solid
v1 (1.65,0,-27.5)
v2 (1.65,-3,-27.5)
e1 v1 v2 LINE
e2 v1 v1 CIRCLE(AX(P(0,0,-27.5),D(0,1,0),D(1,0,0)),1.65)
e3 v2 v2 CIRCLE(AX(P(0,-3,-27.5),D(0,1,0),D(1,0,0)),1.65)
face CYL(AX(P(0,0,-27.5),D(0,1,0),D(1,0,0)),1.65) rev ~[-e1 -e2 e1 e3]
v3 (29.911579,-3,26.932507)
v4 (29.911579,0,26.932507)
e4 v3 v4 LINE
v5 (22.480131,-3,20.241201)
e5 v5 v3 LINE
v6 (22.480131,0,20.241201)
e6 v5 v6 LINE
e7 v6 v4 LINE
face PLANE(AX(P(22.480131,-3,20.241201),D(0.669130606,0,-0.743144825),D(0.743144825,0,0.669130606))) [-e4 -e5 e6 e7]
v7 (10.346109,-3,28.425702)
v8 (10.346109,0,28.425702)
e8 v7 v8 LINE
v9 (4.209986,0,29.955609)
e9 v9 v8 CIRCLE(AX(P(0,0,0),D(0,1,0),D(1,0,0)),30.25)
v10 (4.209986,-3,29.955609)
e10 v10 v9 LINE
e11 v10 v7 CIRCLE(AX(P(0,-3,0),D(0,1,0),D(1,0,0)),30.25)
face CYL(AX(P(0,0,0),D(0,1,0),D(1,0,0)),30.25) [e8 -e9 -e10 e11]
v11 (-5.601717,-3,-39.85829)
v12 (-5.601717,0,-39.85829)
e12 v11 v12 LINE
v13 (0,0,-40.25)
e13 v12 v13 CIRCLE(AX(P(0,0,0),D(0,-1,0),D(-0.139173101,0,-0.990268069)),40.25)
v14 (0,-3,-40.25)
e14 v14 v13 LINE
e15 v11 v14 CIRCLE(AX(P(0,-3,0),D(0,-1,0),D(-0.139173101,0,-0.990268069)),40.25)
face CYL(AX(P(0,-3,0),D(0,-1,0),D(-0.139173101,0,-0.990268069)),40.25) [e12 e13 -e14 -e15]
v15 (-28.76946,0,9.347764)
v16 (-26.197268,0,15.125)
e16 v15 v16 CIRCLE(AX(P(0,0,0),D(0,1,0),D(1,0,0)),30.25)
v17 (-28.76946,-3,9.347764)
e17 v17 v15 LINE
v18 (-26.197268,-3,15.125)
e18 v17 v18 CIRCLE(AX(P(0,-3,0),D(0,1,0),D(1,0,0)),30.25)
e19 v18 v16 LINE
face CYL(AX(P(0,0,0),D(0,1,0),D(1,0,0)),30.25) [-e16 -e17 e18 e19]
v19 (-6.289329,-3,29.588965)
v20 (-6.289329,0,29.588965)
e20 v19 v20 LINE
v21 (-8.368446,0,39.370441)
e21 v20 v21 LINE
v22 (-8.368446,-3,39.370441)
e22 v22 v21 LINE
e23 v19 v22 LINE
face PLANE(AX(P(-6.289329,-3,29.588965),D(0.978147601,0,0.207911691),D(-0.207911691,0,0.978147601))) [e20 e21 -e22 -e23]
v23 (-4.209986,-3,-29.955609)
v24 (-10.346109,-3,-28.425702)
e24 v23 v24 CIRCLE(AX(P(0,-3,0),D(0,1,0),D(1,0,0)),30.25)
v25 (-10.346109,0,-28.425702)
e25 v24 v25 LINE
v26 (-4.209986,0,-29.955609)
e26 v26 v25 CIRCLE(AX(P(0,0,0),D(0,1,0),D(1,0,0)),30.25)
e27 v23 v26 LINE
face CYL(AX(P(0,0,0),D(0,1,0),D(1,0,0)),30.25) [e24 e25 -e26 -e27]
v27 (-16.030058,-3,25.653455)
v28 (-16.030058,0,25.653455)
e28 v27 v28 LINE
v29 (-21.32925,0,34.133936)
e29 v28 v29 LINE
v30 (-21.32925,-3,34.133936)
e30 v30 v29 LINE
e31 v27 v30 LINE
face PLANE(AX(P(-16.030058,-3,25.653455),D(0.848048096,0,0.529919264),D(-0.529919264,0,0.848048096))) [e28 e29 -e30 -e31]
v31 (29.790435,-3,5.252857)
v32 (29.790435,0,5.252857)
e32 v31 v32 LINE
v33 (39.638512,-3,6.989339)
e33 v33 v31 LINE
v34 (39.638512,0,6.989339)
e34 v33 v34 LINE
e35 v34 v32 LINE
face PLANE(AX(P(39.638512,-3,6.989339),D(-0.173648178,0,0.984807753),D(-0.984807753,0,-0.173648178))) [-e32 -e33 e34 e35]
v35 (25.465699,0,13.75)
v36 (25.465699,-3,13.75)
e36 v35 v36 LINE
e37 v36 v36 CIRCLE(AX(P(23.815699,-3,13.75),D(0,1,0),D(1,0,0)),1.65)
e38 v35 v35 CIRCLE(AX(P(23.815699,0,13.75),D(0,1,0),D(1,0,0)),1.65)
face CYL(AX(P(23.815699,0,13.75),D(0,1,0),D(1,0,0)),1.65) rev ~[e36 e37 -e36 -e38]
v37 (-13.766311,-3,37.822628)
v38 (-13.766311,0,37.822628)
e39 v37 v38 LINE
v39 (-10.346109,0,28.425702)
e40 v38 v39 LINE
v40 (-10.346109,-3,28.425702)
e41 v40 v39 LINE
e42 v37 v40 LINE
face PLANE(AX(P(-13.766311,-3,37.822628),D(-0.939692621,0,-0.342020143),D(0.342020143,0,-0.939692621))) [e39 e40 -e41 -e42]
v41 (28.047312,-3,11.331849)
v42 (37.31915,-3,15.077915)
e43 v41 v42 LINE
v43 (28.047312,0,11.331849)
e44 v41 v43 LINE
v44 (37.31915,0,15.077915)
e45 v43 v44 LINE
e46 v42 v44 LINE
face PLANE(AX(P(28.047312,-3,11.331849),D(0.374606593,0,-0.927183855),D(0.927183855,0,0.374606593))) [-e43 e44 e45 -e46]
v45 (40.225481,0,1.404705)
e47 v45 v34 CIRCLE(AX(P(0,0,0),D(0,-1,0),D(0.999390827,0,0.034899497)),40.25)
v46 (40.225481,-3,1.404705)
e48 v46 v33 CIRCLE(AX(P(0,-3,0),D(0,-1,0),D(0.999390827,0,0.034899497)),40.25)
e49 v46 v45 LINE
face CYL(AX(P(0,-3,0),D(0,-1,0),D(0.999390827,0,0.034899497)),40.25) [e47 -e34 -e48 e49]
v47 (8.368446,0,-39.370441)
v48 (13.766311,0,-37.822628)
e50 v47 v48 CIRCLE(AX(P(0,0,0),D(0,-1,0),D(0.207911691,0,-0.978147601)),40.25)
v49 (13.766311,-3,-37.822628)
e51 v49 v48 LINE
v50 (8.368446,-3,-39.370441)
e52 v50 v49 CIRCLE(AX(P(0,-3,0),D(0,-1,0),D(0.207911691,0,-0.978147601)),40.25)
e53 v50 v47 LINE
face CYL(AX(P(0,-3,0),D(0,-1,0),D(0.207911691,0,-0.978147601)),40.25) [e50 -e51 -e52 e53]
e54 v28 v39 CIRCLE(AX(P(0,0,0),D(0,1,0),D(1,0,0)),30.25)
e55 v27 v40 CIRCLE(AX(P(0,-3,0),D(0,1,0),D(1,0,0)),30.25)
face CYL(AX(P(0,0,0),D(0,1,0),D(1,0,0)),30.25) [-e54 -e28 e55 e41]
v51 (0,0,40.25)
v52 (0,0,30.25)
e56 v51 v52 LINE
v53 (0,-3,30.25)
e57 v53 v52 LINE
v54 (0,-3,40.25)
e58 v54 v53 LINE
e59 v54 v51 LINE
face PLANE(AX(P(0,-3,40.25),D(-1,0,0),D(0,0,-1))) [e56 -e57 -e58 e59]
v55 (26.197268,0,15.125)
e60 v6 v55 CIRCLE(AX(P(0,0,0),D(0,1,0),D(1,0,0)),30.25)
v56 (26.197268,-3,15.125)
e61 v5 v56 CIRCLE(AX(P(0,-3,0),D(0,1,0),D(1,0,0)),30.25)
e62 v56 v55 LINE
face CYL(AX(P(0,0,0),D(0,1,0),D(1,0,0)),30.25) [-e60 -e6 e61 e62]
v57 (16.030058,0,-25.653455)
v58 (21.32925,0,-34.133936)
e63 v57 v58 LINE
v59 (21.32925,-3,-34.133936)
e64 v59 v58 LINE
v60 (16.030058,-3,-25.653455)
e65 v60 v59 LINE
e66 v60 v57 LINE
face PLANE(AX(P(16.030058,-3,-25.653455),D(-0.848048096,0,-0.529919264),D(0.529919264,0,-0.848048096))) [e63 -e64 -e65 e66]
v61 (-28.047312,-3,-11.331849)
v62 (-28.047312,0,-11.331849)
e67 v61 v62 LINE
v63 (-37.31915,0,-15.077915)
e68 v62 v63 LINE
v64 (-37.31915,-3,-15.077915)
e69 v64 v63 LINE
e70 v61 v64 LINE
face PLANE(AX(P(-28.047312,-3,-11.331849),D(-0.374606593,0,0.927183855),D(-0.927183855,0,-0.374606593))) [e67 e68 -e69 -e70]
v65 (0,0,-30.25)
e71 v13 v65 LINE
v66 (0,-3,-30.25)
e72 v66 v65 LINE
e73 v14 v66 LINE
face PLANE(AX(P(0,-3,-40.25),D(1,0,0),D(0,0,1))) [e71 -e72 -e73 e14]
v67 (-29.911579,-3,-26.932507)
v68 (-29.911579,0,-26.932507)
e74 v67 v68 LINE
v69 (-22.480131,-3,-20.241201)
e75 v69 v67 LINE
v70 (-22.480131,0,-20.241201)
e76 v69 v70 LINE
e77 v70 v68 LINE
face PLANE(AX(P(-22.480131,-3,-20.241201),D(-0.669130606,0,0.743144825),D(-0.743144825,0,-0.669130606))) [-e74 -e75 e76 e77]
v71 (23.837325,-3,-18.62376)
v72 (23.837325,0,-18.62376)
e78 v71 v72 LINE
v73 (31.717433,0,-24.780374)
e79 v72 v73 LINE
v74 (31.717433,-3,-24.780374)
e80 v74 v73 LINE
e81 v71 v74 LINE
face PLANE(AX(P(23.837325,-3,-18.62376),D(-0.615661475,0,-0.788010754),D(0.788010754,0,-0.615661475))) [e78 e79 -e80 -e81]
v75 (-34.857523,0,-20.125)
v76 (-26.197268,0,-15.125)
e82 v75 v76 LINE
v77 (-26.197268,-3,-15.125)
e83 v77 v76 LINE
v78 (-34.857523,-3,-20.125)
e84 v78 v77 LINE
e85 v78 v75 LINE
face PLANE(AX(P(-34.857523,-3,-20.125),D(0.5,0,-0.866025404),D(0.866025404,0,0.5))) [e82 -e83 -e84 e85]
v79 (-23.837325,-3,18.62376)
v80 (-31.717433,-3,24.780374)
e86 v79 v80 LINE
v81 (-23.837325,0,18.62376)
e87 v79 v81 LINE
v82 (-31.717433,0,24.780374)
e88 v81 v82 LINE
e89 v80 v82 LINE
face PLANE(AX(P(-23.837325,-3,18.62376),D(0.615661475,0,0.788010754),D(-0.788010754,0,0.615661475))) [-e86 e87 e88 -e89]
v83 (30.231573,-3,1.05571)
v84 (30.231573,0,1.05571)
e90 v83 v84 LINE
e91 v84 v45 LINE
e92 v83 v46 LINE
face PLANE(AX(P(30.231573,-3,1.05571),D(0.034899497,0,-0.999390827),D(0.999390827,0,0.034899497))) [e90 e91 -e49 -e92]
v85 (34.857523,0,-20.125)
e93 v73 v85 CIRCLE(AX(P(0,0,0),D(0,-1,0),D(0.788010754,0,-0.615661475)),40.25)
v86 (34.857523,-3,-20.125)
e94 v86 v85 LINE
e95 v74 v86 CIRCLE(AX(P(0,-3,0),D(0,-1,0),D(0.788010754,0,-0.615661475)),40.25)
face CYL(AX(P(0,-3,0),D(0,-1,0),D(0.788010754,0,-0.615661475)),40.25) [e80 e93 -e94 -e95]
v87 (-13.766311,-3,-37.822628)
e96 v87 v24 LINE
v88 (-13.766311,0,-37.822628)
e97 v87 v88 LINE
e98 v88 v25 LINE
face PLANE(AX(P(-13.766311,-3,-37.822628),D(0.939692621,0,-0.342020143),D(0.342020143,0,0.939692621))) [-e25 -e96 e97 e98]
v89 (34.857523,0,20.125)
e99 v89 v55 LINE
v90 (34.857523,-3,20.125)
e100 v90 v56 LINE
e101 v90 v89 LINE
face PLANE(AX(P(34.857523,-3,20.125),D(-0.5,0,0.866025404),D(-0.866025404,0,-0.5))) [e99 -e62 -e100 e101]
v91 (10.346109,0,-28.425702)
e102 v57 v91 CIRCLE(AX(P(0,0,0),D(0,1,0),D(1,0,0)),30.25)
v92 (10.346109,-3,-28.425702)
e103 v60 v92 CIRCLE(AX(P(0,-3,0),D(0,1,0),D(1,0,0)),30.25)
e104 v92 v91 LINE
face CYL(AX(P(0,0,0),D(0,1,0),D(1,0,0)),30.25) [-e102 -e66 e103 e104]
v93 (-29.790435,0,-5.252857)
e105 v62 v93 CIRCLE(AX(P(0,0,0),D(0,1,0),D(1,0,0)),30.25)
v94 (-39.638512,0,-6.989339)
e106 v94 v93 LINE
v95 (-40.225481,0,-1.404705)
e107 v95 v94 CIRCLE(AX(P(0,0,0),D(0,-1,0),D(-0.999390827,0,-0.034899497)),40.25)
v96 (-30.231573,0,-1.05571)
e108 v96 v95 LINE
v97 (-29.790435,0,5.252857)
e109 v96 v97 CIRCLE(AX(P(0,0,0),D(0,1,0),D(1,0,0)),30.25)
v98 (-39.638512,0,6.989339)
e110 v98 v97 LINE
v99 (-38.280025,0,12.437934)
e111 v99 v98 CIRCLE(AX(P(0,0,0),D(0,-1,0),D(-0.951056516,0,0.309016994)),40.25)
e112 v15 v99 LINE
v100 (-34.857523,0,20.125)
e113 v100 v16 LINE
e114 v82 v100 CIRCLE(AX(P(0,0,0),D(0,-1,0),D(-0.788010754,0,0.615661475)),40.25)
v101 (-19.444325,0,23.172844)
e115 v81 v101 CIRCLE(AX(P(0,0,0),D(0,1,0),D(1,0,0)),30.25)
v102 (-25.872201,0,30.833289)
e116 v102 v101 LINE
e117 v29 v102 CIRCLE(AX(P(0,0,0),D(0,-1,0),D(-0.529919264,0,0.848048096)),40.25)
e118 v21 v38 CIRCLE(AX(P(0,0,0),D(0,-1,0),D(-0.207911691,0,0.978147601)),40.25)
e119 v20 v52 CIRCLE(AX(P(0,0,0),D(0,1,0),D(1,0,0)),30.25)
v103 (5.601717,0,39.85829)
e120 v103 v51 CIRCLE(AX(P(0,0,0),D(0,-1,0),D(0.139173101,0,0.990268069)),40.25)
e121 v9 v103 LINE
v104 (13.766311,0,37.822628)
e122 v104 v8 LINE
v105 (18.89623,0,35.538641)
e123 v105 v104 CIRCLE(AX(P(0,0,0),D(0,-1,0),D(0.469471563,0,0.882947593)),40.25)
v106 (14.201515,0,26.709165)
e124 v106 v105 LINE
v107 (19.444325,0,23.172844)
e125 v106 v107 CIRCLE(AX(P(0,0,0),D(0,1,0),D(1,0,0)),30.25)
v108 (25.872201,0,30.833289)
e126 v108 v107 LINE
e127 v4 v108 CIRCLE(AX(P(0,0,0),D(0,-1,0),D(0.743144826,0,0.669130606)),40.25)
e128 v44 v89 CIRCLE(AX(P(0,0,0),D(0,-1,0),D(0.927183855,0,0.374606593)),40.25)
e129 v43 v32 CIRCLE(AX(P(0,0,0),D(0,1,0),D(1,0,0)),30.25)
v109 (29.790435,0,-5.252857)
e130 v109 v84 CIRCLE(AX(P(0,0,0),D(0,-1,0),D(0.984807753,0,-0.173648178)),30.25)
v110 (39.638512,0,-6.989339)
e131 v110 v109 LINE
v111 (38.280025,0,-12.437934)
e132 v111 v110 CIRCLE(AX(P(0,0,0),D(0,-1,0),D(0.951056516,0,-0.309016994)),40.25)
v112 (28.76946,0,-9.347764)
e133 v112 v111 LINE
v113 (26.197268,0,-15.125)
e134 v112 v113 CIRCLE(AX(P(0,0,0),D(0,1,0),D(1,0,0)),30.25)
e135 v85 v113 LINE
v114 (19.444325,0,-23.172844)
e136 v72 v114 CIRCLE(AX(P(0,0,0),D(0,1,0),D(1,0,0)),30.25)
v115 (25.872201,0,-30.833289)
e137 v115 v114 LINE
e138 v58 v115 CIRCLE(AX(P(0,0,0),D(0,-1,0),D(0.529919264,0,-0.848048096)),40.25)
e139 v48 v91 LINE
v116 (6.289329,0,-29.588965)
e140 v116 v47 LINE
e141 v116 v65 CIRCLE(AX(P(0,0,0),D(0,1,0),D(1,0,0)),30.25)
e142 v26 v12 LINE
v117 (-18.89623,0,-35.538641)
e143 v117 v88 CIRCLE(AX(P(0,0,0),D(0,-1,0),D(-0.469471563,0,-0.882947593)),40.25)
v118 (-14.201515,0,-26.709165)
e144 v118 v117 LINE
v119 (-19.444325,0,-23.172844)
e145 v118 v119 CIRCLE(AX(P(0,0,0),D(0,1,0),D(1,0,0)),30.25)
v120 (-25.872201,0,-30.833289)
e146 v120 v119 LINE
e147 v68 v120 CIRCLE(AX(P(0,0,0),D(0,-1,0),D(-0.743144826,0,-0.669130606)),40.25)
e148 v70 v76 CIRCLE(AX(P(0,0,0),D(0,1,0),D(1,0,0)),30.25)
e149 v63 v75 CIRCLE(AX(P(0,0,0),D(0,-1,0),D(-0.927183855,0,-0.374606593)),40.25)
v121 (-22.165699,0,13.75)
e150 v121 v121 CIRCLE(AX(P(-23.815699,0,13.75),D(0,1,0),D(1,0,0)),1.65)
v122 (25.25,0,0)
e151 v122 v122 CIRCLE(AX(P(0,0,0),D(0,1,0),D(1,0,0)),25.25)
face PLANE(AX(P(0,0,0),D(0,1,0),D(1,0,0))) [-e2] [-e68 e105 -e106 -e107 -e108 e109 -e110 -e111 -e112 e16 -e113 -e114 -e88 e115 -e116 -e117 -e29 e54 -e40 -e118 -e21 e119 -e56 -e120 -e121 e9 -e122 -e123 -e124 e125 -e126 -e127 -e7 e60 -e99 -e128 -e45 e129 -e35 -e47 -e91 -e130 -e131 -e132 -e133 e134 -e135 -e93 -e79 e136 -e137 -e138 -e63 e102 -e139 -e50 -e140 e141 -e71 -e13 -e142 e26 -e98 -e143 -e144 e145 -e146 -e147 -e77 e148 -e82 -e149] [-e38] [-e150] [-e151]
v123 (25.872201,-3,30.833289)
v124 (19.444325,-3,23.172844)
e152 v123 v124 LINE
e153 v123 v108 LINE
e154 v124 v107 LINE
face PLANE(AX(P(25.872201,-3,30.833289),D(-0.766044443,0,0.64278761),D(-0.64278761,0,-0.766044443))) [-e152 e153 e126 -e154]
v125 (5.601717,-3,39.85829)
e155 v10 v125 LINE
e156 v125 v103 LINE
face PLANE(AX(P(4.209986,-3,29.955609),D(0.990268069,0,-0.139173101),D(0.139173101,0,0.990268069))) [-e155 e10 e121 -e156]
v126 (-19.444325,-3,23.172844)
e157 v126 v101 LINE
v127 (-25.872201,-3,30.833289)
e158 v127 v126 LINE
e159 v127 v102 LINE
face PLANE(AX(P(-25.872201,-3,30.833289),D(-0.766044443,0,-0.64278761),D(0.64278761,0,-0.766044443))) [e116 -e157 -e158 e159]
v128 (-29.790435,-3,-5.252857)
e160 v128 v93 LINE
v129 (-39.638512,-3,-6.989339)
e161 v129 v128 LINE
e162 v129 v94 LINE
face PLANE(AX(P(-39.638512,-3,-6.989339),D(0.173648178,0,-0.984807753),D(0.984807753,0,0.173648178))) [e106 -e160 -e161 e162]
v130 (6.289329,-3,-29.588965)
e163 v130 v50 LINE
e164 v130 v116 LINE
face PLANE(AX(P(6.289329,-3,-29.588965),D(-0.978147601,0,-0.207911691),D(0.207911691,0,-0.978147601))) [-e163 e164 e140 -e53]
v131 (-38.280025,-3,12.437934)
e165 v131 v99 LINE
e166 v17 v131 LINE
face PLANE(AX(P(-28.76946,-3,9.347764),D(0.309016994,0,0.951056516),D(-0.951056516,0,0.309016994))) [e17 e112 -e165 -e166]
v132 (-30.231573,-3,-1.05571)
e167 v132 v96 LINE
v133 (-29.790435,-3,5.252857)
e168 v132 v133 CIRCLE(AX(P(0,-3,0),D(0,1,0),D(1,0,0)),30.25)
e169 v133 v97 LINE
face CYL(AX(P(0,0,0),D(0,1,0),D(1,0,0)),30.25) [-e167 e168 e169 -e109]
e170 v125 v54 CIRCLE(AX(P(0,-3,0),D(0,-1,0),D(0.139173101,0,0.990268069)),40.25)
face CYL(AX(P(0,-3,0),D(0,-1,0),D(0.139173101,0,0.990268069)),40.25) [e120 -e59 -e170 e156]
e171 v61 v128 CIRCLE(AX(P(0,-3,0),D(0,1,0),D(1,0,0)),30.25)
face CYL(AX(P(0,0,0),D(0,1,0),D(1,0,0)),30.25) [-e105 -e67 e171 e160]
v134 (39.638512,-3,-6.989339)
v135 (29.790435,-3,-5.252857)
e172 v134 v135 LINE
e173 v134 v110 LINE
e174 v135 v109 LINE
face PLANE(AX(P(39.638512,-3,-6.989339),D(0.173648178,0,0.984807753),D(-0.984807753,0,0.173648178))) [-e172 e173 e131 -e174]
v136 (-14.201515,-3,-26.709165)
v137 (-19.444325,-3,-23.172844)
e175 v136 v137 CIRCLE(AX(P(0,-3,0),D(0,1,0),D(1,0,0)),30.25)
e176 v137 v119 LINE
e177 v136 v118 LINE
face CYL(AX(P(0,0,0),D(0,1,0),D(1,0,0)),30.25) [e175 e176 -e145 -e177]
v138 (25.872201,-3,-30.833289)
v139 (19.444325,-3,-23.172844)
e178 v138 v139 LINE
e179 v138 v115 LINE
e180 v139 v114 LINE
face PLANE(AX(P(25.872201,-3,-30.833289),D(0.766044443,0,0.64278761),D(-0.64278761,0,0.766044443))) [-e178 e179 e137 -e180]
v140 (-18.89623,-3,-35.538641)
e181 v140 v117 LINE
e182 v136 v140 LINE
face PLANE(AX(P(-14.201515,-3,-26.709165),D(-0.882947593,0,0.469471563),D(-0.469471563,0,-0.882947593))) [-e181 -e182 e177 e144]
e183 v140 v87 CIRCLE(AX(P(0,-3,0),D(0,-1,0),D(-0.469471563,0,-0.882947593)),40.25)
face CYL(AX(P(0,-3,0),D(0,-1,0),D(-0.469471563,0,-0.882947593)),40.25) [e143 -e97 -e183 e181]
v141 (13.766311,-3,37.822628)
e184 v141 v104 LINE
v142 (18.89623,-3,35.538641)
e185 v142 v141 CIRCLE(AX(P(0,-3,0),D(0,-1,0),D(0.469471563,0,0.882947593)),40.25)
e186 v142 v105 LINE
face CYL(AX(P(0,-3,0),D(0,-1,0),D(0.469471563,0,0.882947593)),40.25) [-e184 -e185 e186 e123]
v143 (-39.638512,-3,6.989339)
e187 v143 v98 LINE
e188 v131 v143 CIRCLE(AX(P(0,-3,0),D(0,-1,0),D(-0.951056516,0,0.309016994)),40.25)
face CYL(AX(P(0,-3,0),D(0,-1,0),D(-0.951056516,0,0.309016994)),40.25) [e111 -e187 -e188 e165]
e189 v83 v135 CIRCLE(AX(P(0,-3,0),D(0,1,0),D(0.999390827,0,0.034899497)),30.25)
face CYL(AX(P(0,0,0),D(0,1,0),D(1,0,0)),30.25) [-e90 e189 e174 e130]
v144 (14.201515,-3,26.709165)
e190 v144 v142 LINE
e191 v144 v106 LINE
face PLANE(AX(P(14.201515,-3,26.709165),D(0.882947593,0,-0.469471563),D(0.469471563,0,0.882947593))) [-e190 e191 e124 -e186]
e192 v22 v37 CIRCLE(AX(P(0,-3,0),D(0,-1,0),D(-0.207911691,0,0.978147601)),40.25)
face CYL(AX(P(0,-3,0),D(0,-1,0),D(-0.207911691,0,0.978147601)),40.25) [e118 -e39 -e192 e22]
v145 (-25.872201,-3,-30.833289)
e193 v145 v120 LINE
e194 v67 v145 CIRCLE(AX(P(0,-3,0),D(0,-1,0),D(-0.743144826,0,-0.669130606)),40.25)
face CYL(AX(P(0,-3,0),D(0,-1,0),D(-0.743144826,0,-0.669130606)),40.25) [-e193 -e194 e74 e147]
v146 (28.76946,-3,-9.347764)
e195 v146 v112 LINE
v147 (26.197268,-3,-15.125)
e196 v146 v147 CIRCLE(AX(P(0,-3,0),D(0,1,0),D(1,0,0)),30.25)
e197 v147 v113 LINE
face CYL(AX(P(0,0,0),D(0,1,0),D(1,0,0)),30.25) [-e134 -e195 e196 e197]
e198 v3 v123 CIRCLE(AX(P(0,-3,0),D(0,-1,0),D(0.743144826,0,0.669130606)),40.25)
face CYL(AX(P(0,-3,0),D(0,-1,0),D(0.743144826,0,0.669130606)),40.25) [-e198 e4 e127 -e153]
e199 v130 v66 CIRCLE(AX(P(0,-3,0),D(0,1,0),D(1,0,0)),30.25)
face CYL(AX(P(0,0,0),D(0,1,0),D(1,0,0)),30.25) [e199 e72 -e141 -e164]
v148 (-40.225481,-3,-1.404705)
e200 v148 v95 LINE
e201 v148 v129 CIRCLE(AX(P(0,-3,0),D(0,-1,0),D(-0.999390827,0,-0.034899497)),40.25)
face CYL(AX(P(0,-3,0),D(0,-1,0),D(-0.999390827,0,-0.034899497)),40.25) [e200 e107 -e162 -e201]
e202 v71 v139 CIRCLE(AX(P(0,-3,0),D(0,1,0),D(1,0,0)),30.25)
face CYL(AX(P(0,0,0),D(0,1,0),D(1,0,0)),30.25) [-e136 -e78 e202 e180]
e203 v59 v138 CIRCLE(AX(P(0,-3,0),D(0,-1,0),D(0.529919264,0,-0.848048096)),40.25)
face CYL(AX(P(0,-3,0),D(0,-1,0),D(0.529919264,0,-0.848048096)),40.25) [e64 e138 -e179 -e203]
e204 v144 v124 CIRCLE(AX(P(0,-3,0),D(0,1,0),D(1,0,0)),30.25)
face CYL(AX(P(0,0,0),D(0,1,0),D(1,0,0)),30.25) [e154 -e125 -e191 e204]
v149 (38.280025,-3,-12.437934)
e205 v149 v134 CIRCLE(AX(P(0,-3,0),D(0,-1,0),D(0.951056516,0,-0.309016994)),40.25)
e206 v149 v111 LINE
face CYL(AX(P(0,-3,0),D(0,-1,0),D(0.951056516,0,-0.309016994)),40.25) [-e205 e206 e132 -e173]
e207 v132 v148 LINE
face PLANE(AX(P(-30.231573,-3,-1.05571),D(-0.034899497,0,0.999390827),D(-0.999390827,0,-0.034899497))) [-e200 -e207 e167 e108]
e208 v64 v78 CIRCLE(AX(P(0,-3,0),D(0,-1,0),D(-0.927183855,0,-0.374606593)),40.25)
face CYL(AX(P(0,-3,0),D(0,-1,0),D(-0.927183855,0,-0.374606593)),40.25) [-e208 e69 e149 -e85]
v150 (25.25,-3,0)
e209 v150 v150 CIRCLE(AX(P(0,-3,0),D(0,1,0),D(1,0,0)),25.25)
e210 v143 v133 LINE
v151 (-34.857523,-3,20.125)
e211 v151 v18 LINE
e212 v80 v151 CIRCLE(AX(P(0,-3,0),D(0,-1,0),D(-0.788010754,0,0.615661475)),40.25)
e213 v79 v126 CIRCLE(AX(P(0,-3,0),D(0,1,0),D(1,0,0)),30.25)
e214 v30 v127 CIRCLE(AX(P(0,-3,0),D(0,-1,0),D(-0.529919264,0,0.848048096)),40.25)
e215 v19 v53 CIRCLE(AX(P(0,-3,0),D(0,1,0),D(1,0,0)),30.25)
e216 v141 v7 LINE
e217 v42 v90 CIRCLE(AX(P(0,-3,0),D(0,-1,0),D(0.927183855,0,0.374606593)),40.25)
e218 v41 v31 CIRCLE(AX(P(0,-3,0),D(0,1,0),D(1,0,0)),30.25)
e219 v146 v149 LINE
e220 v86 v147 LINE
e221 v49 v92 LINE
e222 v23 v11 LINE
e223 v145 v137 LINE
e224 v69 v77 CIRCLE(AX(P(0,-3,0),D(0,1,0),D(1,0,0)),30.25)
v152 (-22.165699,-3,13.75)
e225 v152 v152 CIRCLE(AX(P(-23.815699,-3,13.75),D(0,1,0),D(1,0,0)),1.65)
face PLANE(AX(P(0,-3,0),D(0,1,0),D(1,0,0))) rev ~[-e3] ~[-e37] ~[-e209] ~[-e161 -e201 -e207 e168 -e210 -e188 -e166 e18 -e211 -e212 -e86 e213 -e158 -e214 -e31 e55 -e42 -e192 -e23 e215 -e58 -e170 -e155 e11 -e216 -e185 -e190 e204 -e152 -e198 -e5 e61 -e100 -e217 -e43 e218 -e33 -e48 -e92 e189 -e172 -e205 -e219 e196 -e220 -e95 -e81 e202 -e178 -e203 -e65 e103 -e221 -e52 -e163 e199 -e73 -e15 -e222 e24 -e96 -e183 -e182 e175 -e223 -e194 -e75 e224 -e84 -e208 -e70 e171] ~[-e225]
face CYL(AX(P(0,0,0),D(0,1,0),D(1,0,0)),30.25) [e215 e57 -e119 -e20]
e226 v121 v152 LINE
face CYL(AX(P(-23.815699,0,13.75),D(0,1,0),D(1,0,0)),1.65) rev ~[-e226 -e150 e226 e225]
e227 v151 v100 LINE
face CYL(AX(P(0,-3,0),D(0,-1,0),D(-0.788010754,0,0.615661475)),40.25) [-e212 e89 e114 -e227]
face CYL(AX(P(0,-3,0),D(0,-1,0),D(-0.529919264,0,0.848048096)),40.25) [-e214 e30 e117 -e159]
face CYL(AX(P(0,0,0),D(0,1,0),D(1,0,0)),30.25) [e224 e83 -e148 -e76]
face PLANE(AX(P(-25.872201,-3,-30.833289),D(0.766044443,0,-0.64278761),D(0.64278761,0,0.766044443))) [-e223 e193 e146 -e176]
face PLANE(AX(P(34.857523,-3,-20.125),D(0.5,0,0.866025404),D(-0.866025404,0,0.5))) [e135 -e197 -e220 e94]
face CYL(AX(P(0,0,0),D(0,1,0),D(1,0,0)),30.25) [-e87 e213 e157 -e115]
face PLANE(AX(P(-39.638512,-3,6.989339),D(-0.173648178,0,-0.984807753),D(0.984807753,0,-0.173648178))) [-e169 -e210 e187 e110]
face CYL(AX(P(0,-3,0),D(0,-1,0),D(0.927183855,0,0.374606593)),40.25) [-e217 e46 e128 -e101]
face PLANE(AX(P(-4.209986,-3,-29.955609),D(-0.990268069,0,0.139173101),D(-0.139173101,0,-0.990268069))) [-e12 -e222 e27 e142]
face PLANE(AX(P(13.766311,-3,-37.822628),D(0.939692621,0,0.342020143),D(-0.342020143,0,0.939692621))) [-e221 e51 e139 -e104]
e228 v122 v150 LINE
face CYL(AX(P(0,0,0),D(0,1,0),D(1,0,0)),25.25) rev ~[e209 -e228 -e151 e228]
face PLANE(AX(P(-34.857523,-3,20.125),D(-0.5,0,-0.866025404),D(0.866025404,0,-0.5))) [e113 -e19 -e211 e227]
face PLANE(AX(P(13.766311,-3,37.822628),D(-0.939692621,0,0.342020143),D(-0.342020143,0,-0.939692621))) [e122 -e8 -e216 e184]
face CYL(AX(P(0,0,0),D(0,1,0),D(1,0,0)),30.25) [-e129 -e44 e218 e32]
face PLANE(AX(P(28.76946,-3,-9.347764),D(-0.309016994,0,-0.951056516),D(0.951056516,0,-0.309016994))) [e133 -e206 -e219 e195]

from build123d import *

# Parameters (mm, degrees)
SKETCH1_R           = 30.25
SKETCH1_R_2         = 25.25
EXTRUDE_THIN1_DEPTH = 3
SKETCH2_R           = 1.65
CUT_EXTRUDE3_DEPTH  = 10
BOSS_EXTRUDE1_DEPTH = 3


with BuildPart() as part:
    # Sketch1 → Extrude-Thin1 (new body)
    with BuildSketch(Plane(origin=(0, 0, 0), x_dir=(1, 0, 0), z_dir=(0, 1, 0))):
        Circle(SKETCH1_R)
        Circle(SKETCH1_R_2, mode=Mode.SUBTRACT)
    extrude(amount=-EXTRUDE_THIN1_DEPTH)

    # Sketch2 → Cut-Extrude3 (cut)
    with BuildSketch(Plane(origin=(0, 0, 0), x_dir=(1, 0, 0), z_dir=(0, 1, 0))):
        with Locations((0, 27.5)):
            Circle(SKETCH2_R)
        with Locations((23.815698604, -13.75)):
            Circle(SKETCH2_R)
        with Locations((-23.815698604, -13.75)):
            Circle(SKETCH2_R)
    extrude(amount=-CUT_EXTRUDE3_DEPTH, mode=Mode.SUBTRACT)

    # Sketch5 → Boss-Extrude1 (add)
    with BuildSketch(Plane.XZ.offset(3)):
        with BuildLine():
            Line((0, 40.25), (0, 30.25))
            ThreePointArc((0, 30.25), (2.110133331, 30.17631252), (4.209986304, 29.955609079))
            Line((4.209986304, 29.955609079), (5.601717314, 39.858289767))
            ThreePointArc((5.601717314, 39.858289767), (2.807698068, 40.151953023), (0, 40.25))
        make_face()
        with BuildLine():
            Line((13.766310769, 37.822627987), (10.346109336, 28.425701779))
            ThreePointArc((10.346109336, 28.425701779), (12.303783453, 27.634750094), (14.201514774, 26.709164684))
            Line((14.201514774, 26.709164684), (18.896230402, 35.538640613))
            ThreePointArc((18.896230402, 35.538640613), (16.371149884, 36.77020467), (13.766310769, 37.822627987))
        make_face()
        with BuildLine():
            Line((25.87220129, 30.833288836), (19.444325193, 23.172844404))
            ThreePointArc((19.444325193, 23.172844404), (21.013415706, 21.76002896), (22.480130971, 20.241200842))
            Line((22.480130971, 20.241200842), (29.911579225, 26.932506906))
            ThreePointArc((29.911579225, 26.932506906), (27.959999411, 28.953426964), (25.87220129, 30.833288836))
        make_face()
        with BuildLine():
            Line((34.857522502, 20.125), (26.197268464, 15.125))
            ThreePointArc((26.197268464, 15.125), (27.188519901, 13.26072719), (28.047311601, 11.331849451))
            Line((28.047311601, 11.331849451), (37.319150146, 15.077915385))
            ThreePointArc((37.319150146, 15.077915385), (36.176460364, 17.644438658), (34.857522502, 20.125))
        make_face()
        with BuildLine():
            Line((39.638512059, 6.989339151), (29.790434529, 5.252857374))
            ThreePointArc((29.790434529, 5.252857374), (30.084287335, 3.161986014), (30.231572517, 1.055709775))
            Line((30.231572517, 1.055709775), (40.225480788, 1.404704742))
            ThreePointArc((40.225480788, 1.404704742), (40.029506289, 4.207270647), (39.638512059, 6.989339151))
        make_face()
        with BuildLine():
            Line((39.638512059, -6.989339151), (29.790434529, -5.252857374))
            ThreePointArc((29.790434529, -5.252857374), (29.35144572, -7.318137342), (28.769459618, -9.34776408))
            Line((28.769459618, -9.34776408), (38.280024781, -12.437934024))
            ThreePointArc((38.280024781, -12.437934024), (39.054402983, -9.737356298), (39.638512059, -6.989339151))
        make_face()
        with BuildLine():
            Line((34.857522502, -20.125), (26.197268464, -15.125))
            ThreePointArc((26.197268464, -15.125), (25.07838657, -16.91558533), (23.837325297, -18.623759629))
            Line((23.837325297, -18.623759629), (31.717432833, -24.780374382))
            ThreePointArc((31.717432833, -24.780374382), (33.368762295, -22.507514365), (34.857522502, -20.125))
        make_face()
        with BuildLine():
            Line((25.87220129, -30.833288836), (19.444325193, -23.172844404))
            ThreePointArc((19.444325193, -23.172844404), (17.780503882, -24.47276408), (16.030057743, -25.653454909))
            Line((16.030057743, -25.653454909), (21.329250385, -34.13393587))
            ThreePointArc((21.329250385, -34.13393587), (23.658356405, -32.562934024), (25.87220129, -30.833288836))
        make_face()
        with BuildLine():
            Line((13.766310769, -37.822627987), (10.346109336, -28.425701779))
            ThreePointArc((10.346109336, -28.425701779), (8.338030013, -29.078166302), (6.289328647, -29.588964922))
            Line((6.289328647, -29.588964922), (8.368445555, -39.37044093))
            ThreePointArc((8.368445555, -39.37044093), (11.094403572, -38.690783262), (13.766310769, -37.822627987))
        make_face()
        with BuildLine():
            Line((0, -40.25), (0, -30.25))
            ThreePointArc((0, -30.25), (-2.110133331, -30.17631252), (-4.209986304, -29.955609079))
            Line((-4.209986304, -29.955609079), (-5.601717314, -39.858289767))
            ThreePointArc((-5.601717314, -39.858289767), (-2.807698068, -40.151953023), (0, -40.25))
        make_face()
        with BuildLine():
            Line((-13.766310769, -37.822627987), (-10.346109336, -28.425701779))
            ThreePointArc((-10.346109336, -28.425701779), (-12.303783453, -27.634750094), (-14.201514774, -26.709164684))
            Line((-14.201514774, -26.709164684), (-18.896230402, -35.538640613))
            ThreePointArc((-18.896230402, -35.538640613), (-16.371149884, -36.77020467), (-13.766310769, -37.822627987))
        make_face()
        with BuildLine():
            Line((-25.87220129, -30.833288836), (-19.444325193, -23.172844404))
            ThreePointArc((-19.444325193, -23.172844404), (-21.013415706, -21.76002896), (-22.480130971, -20.241200842))
            Line((-22.480130971, -20.241200842), (-29.911579225, -26.932506906))
            ThreePointArc((-29.911579225, -26.932506906), (-27.959999411, -28.953426964), (-25.87220129, -30.833288836))
        make_face()
        with BuildLine():
            Line((-34.857522502, -20.125), (-26.197268464, -15.125))
            ThreePointArc((-26.197268464, -15.125), (-27.188519901, -13.26072719), (-28.047311601, -11.331849451))
            Line((-28.047311601, -11.331849451), (-37.319150146, -15.077915385))
            ThreePointArc((-37.319150146, -15.077915385), (-36.176460364, -17.644438658), (-34.857522502, -20.125))
        make_face()
        with BuildLine():
            Line((-39.638512059, -6.989339151), (-29.790434529, -5.252857374))
            ThreePointArc((-29.790434529, -5.252857374), (-30.084287335, -3.161986014), (-30.231572517, -1.055709775))
            Line((-30.231572517, -1.055709775), (-40.225480788, -1.404704742))
            ThreePointArc((-40.225480788, -1.404704742), (-40.029506289, -4.207270647), (-39.638512059, -6.989339151))
        make_face()
        with BuildLine():
            Line((-39.638512059, 6.989339151), (-29.790434529, 5.252857374))
            ThreePointArc((-29.790434529, 5.252857374), (-29.35144572, 7.318137342), (-28.769459618, 9.34776408))
            Line((-28.769459618, 9.34776408), (-38.280024781, 12.437934024))
            ThreePointArc((-38.280024781, 12.437934024), (-39.054402983, 9.737356298), (-39.638512059, 6.989339151))
        make_face()
        with BuildLine():
            Line((-34.857522502, 20.125), (-26.197268464, 15.125))
            ThreePointArc((-26.197268464, 15.125), (-25.07838657, 16.91558533), (-23.837325297, 18.623759629))
            Line((-23.837325297, 18.623759629), (-31.717432833, 24.780374382))
            ThreePointArc((-31.717432833, 24.780374382), (-33.368762295, 22.507514365), (-34.857522502, 20.125))
        make_face()
        with BuildLine():
            Line((-25.87220129, 30.833288836), (-19.444325193, 23.172844404))
            ThreePointArc((-19.444325193, 23.172844404), (-17.780503882, 24.47276408), (-16.030057743, 25.653454909))
            Line((-16.030057743, 25.653454909), (-21.329250385, 34.13393587))
            ThreePointArc((-21.329250385, 34.13393587), (-23.658356405, 32.562934024), (-25.87220129, 30.833288836))
        make_face()
        with BuildLine():
            Line((-13.766310769, 37.822627987), (-10.346109336, 28.425701779))
            ThreePointArc((-10.346109336, 28.425701779), (-8.338030013, 29.078166302), (-6.289328647, 29.588964922))
            Line((-6.289328647, 29.588964922), (-8.368445555, 39.37044093))
            ThreePointArc((-8.368445555, 39.37044093), (-11.094403572, 38.690783262), (-13.766310769, 37.822627987))
        make_face()
    extrude(amount=-BOSS_EXTRUDE1_DEPTH)


solid = part.part
